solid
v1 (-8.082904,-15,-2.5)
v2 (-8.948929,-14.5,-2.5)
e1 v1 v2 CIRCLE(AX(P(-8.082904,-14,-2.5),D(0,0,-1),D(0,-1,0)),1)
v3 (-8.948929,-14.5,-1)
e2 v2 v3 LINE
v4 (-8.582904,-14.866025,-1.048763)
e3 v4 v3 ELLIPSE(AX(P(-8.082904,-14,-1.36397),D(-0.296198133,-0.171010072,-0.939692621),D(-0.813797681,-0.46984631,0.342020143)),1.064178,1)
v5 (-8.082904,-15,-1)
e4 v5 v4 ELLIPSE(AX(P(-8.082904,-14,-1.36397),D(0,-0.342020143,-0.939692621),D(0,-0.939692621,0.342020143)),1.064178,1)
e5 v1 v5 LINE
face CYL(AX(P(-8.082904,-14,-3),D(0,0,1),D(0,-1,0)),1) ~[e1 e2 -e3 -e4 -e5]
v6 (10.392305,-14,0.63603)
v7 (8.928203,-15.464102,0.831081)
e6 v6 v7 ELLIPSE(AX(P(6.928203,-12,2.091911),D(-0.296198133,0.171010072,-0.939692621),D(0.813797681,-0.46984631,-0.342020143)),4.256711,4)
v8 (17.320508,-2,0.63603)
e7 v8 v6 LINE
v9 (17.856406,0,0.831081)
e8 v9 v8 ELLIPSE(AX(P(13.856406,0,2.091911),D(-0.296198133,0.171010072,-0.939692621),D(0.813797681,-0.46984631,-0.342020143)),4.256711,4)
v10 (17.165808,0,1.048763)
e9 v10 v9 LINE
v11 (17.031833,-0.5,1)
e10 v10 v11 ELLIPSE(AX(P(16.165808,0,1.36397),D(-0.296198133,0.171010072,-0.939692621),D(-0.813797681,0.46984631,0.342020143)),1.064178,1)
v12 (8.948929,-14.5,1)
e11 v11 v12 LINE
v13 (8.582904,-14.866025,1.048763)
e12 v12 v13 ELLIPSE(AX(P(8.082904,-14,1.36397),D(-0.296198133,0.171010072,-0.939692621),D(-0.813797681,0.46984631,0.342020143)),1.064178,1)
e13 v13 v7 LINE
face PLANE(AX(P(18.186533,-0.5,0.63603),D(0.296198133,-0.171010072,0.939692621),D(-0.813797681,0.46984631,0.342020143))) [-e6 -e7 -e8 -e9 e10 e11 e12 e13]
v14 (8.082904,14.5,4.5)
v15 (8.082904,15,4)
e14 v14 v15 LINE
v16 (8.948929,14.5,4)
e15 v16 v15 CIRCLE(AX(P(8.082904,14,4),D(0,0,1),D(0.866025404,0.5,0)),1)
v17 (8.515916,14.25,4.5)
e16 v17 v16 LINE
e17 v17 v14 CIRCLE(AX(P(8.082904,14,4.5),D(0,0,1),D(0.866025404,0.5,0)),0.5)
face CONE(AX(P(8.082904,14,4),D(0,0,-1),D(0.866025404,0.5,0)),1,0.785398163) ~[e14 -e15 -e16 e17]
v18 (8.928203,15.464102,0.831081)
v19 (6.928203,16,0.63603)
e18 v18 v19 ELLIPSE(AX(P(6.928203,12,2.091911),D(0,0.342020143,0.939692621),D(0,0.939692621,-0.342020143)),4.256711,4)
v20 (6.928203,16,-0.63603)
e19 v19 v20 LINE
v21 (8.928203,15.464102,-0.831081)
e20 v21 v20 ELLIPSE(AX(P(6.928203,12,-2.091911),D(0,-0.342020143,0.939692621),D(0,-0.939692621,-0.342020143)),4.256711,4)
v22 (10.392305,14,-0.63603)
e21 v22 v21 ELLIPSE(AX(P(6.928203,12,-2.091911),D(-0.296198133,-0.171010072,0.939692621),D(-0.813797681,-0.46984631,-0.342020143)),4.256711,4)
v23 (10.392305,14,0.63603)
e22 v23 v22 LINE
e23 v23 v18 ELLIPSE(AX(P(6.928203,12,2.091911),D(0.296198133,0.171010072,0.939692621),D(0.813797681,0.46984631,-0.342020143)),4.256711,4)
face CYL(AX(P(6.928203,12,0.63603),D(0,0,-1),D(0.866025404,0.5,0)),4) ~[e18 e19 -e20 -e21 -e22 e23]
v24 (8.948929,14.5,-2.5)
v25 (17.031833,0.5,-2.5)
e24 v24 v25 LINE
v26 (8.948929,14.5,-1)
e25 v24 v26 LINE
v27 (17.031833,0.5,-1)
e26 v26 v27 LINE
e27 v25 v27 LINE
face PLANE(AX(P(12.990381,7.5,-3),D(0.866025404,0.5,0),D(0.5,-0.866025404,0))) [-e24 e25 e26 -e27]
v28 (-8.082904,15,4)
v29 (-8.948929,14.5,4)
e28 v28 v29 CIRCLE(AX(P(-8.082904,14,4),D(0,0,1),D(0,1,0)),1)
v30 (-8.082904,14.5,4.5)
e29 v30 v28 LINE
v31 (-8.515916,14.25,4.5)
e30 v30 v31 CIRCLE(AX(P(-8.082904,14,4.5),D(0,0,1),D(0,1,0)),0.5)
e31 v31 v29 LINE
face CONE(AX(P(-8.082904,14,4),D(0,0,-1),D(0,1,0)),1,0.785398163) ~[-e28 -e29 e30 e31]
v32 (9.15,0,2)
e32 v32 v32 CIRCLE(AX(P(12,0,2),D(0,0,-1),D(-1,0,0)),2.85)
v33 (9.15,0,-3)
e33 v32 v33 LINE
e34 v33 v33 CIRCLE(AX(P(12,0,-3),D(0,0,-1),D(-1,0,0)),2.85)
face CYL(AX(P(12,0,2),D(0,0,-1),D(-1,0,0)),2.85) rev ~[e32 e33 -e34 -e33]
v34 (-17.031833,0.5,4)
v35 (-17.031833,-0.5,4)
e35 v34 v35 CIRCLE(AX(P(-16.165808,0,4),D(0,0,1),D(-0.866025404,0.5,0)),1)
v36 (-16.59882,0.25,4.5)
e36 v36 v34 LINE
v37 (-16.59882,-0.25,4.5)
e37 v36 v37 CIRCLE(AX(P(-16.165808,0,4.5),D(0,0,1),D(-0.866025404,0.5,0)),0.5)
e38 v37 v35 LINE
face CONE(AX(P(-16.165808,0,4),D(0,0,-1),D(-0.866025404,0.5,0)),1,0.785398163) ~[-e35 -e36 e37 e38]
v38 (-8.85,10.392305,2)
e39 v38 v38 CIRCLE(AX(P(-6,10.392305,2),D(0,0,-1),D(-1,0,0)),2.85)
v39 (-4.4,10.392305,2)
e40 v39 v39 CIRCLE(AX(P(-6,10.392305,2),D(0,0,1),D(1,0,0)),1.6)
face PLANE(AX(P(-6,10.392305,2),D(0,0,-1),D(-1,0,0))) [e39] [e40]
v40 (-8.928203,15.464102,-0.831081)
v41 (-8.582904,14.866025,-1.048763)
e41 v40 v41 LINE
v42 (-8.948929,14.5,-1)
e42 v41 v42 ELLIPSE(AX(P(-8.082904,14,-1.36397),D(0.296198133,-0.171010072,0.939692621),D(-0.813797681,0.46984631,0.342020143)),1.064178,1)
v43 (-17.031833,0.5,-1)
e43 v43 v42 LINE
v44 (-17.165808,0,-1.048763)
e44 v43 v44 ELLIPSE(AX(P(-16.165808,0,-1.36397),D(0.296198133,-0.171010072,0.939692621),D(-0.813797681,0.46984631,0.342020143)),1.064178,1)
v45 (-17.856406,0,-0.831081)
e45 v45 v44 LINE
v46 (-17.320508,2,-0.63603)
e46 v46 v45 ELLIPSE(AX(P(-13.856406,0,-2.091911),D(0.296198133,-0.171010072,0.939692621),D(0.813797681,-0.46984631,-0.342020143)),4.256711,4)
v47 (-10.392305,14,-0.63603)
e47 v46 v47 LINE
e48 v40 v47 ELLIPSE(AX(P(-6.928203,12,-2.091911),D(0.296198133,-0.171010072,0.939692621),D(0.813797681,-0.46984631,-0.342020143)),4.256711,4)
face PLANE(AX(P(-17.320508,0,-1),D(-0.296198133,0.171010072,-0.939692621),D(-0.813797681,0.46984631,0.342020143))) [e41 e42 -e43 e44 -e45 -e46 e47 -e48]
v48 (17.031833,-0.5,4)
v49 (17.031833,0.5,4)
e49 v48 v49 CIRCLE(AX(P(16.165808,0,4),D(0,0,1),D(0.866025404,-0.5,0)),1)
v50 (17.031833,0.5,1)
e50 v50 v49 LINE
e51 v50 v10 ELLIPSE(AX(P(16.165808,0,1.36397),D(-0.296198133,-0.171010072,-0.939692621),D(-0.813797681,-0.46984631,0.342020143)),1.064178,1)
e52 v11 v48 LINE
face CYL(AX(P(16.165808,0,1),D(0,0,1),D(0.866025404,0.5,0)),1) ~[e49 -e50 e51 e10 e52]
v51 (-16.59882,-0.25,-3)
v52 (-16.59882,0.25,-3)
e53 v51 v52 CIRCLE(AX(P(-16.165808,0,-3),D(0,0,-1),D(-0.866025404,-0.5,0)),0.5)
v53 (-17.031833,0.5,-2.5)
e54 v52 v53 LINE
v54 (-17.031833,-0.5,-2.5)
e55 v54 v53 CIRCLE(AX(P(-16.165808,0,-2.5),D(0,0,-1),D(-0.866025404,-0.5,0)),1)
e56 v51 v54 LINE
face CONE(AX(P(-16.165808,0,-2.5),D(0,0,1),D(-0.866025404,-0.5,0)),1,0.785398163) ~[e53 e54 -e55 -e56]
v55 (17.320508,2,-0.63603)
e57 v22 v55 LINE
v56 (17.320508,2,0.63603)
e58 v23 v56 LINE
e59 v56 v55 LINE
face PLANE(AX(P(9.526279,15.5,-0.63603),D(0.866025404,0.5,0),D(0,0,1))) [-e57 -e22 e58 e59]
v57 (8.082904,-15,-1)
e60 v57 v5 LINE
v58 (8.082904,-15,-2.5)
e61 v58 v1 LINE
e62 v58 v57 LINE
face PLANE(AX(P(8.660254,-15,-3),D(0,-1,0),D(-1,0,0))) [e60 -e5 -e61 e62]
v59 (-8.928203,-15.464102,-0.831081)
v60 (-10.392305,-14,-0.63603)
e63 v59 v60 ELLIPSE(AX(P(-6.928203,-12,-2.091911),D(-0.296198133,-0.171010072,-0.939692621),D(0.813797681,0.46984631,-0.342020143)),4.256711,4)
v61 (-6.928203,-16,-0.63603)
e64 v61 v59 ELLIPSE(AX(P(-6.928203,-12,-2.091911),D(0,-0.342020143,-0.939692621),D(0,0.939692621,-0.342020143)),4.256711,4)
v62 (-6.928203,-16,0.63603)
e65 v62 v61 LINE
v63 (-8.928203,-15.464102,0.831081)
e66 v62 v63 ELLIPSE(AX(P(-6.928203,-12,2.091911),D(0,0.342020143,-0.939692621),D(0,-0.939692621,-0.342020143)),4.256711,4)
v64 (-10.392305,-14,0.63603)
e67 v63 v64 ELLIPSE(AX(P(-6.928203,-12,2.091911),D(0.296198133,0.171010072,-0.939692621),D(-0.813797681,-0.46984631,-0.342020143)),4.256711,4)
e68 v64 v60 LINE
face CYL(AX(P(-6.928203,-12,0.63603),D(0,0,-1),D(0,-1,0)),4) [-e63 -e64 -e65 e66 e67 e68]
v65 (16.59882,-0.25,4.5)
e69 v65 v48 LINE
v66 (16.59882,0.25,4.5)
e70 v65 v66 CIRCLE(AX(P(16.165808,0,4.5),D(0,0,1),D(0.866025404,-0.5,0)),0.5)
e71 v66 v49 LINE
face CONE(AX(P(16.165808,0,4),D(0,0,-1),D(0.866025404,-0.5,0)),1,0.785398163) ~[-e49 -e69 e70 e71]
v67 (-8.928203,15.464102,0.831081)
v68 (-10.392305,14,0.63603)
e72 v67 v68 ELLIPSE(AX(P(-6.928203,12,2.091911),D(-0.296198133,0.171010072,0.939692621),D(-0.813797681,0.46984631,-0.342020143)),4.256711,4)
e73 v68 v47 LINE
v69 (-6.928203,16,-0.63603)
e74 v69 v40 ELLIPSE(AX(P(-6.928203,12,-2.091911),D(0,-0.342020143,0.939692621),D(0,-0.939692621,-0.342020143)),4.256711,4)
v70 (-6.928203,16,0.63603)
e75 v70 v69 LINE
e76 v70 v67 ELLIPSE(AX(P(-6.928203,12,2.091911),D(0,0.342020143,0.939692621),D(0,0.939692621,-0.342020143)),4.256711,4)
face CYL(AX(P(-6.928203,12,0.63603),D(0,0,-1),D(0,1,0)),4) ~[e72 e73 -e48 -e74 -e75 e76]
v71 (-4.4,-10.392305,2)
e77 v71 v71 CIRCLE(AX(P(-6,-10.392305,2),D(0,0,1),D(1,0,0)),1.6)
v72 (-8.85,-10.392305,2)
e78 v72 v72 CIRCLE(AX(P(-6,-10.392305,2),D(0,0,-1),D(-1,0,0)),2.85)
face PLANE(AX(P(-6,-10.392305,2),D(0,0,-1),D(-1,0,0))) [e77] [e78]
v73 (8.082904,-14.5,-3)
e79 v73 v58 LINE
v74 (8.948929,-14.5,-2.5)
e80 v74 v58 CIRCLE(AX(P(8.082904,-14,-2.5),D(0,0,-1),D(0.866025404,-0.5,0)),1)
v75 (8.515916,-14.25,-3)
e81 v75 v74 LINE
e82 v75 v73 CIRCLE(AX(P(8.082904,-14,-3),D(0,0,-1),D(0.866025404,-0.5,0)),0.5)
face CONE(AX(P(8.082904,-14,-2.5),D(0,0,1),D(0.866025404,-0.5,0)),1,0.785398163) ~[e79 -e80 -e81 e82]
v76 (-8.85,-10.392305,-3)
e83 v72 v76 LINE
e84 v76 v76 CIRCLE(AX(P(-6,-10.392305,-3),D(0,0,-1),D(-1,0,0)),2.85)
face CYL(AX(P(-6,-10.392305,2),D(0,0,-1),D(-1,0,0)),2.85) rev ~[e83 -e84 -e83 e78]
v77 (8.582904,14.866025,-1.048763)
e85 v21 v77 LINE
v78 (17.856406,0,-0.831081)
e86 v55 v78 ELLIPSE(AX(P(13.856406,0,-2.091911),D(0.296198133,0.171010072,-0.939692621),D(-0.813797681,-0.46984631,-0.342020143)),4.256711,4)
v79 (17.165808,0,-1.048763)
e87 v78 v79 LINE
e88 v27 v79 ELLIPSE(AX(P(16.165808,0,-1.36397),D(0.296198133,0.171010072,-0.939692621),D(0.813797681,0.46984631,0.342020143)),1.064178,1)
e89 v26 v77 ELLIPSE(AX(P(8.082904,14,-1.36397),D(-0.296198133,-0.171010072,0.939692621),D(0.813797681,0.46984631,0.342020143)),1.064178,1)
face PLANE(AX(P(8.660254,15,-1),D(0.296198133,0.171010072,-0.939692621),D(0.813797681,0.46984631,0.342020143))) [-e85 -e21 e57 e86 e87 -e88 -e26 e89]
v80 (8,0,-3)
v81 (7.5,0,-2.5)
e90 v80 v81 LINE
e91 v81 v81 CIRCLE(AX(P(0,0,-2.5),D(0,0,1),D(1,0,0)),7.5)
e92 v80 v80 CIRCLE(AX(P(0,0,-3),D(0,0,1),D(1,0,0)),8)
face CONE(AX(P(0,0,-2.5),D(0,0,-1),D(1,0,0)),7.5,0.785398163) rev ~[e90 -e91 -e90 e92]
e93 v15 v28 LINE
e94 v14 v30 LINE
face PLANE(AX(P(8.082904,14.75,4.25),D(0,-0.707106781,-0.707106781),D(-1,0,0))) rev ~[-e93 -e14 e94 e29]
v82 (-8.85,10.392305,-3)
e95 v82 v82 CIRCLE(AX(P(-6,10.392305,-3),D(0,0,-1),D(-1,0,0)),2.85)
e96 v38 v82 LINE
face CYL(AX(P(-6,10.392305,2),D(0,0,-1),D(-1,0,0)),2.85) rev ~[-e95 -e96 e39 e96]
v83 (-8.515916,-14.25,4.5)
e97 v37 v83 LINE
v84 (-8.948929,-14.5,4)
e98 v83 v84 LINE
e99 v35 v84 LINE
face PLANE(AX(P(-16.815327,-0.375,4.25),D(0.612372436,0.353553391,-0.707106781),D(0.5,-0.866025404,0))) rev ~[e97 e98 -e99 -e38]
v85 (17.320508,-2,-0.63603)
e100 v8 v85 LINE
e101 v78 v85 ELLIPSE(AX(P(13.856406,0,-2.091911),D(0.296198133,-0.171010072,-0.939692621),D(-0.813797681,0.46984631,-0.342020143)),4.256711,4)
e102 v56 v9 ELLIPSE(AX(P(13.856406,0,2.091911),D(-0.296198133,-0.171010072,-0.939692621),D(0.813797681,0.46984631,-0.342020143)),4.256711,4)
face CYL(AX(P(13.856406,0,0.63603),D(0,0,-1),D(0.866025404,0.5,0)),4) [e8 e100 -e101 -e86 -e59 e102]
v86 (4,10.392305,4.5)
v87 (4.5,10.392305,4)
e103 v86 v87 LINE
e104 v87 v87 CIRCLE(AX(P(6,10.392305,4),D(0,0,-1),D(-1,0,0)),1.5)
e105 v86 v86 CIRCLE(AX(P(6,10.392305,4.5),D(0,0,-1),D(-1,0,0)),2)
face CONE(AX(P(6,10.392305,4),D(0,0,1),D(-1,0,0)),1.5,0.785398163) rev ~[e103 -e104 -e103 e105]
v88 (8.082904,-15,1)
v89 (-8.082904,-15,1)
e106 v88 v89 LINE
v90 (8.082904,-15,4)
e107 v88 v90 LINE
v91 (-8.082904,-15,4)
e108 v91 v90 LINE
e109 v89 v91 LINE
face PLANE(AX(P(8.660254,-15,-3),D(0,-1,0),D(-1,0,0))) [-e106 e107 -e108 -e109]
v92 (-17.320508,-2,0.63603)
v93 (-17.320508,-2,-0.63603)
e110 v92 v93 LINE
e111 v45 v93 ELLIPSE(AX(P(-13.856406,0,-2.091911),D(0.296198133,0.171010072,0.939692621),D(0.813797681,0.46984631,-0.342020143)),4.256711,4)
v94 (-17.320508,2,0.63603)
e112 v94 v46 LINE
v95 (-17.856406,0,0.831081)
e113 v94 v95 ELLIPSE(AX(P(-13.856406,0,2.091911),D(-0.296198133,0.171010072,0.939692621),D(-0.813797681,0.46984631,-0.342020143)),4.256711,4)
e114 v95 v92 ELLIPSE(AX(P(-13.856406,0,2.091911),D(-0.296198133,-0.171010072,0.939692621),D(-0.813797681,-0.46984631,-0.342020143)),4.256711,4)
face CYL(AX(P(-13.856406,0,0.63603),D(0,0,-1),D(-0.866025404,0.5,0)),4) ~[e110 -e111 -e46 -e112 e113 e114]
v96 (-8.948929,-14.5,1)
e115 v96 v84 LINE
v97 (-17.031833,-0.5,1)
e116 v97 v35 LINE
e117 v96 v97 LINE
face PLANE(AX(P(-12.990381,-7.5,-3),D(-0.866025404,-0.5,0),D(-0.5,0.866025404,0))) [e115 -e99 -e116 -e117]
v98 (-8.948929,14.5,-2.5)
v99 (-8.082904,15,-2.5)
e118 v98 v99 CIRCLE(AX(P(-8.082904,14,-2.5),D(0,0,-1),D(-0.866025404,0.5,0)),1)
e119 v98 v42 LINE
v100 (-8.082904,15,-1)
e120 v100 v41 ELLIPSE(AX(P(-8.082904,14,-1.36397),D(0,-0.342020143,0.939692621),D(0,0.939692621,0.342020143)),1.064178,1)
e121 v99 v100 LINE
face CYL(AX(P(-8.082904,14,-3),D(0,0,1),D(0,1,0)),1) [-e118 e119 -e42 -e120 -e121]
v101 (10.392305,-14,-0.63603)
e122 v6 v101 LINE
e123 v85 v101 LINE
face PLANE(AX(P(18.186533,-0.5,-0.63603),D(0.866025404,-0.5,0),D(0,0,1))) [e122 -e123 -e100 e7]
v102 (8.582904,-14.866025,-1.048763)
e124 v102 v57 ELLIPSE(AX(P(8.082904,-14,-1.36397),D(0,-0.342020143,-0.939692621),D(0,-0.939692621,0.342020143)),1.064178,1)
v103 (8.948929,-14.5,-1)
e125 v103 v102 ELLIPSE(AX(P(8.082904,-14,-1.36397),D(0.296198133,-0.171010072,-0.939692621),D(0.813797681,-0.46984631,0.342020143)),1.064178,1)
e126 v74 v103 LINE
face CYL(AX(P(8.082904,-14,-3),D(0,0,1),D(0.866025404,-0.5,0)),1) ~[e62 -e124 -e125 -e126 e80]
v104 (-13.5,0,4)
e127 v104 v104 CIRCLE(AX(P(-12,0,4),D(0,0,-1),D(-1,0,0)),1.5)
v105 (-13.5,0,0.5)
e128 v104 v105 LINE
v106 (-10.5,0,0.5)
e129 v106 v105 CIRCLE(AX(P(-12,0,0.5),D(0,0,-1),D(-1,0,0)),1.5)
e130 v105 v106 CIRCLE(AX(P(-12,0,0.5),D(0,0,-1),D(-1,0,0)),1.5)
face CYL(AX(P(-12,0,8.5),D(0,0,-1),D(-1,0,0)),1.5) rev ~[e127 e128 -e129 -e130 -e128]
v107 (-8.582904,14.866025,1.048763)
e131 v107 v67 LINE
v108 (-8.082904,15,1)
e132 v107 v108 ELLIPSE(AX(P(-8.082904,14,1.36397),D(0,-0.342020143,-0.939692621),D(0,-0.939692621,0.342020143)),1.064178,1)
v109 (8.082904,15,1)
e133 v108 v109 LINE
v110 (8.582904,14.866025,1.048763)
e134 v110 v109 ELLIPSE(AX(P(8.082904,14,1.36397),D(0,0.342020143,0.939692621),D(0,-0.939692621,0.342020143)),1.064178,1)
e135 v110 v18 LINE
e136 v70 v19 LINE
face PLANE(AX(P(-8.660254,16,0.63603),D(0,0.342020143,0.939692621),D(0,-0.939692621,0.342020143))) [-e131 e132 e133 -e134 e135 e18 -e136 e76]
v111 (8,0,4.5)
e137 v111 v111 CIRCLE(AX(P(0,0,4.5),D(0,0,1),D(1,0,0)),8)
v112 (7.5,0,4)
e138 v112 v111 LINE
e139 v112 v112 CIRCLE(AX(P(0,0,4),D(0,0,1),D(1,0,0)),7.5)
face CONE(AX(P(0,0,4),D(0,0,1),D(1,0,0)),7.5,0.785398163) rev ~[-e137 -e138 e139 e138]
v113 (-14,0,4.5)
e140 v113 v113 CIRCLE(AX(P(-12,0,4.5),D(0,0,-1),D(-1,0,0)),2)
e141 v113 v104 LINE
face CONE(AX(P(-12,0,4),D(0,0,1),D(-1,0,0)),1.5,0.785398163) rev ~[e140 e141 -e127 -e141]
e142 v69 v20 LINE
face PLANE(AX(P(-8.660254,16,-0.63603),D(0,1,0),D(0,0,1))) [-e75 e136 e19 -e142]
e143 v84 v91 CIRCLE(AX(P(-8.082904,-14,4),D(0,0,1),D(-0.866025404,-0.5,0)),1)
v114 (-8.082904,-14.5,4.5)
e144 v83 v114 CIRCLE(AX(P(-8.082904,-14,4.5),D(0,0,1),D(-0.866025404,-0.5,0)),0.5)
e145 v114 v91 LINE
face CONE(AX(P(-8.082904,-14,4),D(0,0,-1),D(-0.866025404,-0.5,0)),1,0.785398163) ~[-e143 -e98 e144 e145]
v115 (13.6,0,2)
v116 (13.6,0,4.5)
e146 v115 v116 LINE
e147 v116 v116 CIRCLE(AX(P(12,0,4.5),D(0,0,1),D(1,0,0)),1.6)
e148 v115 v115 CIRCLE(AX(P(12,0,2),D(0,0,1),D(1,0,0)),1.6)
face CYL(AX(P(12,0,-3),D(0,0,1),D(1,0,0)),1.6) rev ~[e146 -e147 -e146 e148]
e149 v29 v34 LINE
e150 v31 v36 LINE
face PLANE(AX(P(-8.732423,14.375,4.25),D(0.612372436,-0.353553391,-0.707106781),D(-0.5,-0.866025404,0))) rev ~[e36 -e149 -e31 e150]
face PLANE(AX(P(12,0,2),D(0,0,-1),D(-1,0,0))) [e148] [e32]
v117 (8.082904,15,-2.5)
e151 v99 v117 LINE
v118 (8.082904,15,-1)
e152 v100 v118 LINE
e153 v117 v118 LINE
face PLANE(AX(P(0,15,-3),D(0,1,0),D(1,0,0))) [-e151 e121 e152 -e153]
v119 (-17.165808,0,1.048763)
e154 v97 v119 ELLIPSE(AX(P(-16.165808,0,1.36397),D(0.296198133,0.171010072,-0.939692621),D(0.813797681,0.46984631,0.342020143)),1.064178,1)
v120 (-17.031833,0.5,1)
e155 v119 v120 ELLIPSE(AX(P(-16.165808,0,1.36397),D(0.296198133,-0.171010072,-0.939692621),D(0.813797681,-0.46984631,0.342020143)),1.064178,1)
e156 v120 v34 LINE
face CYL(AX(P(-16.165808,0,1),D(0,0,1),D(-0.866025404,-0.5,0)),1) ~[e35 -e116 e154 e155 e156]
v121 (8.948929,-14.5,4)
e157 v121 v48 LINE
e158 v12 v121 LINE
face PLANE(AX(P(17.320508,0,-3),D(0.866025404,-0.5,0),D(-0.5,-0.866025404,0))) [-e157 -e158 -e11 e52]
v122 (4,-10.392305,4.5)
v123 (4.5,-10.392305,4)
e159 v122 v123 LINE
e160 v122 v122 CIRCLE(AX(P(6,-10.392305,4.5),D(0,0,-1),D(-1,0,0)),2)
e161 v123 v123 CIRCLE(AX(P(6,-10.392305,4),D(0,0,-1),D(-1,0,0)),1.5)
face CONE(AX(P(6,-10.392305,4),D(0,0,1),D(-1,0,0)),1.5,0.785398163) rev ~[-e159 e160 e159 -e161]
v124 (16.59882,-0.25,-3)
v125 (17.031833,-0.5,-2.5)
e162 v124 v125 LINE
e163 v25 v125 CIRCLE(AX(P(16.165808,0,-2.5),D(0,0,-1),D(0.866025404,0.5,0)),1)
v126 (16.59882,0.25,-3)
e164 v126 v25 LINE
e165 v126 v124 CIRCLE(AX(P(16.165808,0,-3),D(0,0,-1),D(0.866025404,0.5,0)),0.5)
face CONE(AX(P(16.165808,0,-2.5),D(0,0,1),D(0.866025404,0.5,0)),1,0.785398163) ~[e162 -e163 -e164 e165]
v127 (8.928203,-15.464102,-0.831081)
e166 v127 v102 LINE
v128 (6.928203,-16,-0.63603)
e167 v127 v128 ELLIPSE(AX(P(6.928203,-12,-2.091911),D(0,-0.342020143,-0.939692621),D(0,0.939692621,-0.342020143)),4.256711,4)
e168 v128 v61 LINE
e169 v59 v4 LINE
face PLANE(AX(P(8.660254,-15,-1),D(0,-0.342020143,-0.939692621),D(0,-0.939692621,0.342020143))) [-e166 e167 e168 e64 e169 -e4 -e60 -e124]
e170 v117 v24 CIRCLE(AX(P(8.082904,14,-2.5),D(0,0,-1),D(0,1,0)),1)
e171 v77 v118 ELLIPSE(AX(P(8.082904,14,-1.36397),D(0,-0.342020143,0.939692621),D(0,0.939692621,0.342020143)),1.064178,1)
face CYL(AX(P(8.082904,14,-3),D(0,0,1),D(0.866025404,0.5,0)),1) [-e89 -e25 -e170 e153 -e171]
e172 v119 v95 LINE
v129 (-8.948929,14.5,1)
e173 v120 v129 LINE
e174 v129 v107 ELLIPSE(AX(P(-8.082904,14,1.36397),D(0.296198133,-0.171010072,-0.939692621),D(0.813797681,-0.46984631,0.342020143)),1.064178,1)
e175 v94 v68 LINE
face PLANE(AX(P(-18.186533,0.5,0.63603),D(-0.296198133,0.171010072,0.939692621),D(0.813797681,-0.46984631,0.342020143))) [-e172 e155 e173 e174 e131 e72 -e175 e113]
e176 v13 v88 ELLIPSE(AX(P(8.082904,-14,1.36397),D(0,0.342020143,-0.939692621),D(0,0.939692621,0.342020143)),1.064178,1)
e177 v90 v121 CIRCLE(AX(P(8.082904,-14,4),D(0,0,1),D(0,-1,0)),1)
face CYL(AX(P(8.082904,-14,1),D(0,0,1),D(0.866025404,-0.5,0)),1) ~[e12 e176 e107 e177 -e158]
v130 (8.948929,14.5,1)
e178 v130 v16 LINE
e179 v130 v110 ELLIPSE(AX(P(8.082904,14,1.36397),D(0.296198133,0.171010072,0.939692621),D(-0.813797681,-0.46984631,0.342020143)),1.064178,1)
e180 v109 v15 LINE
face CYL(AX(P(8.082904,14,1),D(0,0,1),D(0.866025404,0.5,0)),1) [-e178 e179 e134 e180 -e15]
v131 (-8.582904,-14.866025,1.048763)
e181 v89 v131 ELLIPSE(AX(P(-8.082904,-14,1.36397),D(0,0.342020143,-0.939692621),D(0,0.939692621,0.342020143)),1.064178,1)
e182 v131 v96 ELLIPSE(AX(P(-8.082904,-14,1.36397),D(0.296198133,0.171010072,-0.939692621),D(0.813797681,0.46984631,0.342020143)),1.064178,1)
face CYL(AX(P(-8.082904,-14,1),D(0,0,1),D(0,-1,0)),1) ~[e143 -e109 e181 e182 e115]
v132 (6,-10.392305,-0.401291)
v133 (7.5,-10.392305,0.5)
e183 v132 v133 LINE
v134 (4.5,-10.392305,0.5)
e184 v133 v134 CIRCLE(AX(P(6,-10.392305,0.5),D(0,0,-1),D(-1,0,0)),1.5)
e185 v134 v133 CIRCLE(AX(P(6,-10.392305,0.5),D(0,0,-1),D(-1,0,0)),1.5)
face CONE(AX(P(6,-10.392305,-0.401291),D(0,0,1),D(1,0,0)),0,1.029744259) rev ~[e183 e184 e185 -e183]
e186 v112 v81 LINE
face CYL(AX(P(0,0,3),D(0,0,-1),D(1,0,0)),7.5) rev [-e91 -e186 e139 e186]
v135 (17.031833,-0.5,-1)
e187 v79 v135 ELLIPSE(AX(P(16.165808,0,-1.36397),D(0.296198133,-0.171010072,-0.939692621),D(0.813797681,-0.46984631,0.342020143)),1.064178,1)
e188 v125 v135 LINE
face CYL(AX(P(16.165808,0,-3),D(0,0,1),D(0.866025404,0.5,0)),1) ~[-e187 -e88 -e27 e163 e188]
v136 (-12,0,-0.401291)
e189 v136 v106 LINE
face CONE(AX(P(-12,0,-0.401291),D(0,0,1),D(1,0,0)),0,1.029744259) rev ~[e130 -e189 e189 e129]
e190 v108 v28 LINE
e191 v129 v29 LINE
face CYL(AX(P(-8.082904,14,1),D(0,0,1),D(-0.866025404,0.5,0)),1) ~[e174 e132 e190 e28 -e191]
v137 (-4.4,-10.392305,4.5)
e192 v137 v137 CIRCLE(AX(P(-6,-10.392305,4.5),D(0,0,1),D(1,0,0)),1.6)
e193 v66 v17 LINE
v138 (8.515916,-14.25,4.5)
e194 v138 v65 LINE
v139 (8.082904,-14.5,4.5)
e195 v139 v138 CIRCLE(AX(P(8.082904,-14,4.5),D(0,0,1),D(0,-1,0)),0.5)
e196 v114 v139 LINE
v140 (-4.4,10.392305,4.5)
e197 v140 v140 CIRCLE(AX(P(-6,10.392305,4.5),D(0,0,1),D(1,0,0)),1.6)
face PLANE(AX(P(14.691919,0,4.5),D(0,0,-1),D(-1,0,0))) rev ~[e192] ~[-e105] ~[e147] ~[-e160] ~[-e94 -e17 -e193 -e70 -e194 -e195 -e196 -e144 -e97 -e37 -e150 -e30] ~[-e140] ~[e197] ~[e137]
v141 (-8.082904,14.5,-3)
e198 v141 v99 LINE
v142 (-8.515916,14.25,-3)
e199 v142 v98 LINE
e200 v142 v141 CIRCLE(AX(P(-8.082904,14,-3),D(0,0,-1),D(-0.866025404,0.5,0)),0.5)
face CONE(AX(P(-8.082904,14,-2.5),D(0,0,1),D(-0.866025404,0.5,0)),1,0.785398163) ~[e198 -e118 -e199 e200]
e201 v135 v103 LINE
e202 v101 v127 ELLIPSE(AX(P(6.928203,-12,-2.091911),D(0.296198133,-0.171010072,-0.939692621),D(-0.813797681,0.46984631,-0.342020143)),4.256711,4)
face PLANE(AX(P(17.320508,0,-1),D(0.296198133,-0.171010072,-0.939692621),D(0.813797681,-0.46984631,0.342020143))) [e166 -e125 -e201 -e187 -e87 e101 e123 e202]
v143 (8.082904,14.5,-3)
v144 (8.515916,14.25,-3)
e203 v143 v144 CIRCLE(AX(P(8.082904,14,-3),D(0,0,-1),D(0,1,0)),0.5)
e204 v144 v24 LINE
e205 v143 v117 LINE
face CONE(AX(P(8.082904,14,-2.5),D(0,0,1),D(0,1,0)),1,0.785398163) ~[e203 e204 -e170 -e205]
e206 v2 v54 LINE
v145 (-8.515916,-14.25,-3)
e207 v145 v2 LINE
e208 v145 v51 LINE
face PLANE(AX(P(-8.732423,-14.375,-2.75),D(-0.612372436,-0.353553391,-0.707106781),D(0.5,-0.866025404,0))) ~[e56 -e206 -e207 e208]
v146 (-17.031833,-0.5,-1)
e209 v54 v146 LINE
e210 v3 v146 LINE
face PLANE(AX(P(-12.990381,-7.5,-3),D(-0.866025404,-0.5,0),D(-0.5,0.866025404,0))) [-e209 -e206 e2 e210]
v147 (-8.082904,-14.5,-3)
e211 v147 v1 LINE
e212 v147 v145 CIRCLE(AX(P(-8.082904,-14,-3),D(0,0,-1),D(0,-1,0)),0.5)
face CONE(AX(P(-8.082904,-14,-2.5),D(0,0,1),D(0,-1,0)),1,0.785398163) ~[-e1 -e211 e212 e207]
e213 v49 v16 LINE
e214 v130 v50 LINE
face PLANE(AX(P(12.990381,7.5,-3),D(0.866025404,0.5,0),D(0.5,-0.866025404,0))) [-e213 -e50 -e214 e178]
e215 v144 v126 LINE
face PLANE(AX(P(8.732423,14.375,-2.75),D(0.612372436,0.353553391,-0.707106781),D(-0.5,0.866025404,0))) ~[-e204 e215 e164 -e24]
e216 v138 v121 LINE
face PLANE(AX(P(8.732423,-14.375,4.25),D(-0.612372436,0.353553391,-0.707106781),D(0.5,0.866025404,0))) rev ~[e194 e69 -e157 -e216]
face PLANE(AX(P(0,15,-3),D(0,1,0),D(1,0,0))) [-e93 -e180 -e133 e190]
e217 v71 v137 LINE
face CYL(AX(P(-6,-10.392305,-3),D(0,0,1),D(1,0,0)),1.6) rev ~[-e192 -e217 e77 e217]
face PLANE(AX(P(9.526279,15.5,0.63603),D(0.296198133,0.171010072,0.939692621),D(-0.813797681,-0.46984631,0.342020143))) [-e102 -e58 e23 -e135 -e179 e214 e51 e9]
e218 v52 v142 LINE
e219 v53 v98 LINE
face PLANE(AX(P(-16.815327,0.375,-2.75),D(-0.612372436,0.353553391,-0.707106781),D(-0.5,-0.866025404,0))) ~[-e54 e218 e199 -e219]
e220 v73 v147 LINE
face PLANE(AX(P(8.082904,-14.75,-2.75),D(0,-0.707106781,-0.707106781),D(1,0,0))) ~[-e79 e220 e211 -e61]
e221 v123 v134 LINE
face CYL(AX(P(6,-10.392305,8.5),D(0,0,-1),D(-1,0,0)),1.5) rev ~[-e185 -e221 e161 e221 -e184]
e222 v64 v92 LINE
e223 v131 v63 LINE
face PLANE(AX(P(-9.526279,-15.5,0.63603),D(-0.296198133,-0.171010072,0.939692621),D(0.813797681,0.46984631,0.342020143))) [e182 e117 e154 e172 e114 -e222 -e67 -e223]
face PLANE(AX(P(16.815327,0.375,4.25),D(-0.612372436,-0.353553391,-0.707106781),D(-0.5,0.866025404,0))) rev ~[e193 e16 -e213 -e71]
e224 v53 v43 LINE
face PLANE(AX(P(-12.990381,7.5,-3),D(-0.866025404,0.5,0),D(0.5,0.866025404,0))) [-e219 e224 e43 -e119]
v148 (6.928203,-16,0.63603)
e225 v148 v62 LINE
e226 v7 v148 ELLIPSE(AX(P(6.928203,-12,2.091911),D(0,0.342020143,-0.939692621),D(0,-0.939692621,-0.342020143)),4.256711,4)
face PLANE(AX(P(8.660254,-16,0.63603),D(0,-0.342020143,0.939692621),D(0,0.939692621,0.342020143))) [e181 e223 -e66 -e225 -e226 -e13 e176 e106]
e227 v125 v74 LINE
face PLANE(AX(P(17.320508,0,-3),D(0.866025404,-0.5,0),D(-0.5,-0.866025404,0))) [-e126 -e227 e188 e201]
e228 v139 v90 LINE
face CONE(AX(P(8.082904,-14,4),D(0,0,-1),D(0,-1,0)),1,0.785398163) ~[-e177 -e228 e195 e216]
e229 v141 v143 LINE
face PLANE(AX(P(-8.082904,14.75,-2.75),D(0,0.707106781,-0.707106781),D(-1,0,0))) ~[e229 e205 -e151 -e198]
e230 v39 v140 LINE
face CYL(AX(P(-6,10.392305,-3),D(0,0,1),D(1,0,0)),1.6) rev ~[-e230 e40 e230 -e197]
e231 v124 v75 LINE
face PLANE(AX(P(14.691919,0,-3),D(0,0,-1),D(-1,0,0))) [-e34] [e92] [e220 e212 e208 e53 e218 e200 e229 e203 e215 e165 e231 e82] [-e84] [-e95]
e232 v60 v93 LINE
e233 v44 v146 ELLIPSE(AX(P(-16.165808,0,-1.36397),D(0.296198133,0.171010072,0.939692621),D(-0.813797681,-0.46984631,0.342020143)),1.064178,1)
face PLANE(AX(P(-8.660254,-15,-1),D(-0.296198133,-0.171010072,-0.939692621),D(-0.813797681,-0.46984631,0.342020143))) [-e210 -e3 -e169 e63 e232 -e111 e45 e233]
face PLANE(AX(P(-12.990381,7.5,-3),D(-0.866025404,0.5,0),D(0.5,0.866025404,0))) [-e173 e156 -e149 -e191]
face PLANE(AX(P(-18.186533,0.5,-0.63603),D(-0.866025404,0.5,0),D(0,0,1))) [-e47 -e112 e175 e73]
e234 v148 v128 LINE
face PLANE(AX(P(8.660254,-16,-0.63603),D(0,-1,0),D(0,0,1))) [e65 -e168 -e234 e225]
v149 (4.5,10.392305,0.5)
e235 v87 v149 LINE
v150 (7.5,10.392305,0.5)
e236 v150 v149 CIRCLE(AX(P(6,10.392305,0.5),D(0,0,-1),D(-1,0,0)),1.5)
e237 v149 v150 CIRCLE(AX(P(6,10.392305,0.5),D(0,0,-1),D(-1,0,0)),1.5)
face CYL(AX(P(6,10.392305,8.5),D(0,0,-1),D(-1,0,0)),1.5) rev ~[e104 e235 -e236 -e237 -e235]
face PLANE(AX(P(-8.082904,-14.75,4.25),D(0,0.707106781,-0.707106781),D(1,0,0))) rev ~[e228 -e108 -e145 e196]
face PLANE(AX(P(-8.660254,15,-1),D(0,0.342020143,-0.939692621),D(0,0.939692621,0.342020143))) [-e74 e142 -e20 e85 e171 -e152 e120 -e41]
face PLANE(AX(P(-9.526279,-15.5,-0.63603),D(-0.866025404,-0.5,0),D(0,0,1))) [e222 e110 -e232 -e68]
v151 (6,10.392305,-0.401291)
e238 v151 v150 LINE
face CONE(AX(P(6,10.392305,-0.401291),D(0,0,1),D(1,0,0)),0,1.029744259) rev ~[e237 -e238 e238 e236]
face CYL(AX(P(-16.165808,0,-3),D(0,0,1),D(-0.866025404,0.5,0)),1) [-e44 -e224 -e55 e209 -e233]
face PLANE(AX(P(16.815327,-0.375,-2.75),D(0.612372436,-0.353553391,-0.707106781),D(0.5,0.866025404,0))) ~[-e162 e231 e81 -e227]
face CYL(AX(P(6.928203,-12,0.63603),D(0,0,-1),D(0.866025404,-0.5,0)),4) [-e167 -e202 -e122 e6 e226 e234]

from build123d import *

# Parameters (mm, degrees)
SKETCH_1_W                   = 32
SKETCH_1_H                   = 32
SKETCH_1_R                   = 7.5
EXTRUDE_1_DEPTH              = 3
SKETCH_23_W                  = 32
SKETCH_23_H                  = 32
SKETCH_23_R                  = 7.5
EXTRUDE_4_DEPTH              = 1.5
HOLE_WIZARD_M3_1_D           = 3.2
HOLE_WIZARD_M3_1_CBORE_D     = 5.7
HOLE_WIZARD_M3_1_CBORE_DEPTH = 5
F_3_0MM_1_D                  = 3
F_3_0MM_1_DEPTH              = 4
F_3_0MM_1_TIP                = 0.9012909285413404
SKETCH_26_OUTSIDE_W          = 43.174
SKETCH_26_OUTSIDE_H          = 43.174
SKETCH_26_OUTSIDE_R          = 15
CUT_EXTRUDE_1_DEPTH          = 24.837994882120434
EXTRUDE_5_DEPTH              = 7.5
FILLET_1_R                   = 1
CHAMFER_1_SIZE               = 0.5
FILLET_2_R                   = 4


with BuildPart() as part:
    # 草图1 → 凸台-拉伸1 (new, symmetric)
    with BuildSketch(Plane.XY):
        Rectangle(SKETCH_1_W, SKETCH_1_H)
        Circle(SKETCH_1_R, mode=Mode.SUBTRACT)
    extrude(amount=EXTRUDE_1_DEPTH, both=True)

    # 草图23 → 凸台-拉伸4 (add)
    with BuildSketch(Plane.XY.offset(3)):
        Rectangle(SKETCH_23_W, SKETCH_23_H)
        Circle(SKETCH_23_R, mode=Mode.SUBTRACT)
    extrude(amount=EXTRUDE_4_DEPTH)

    # M3 六角圆柱头螺钉的柱形沉头孔1 (through all)
    with Locations(Plane(origin=(0, 0, -3), x_dir=(-1, 0, 0), z_dir=(0, 0, -1))):
        with Locations((-12, 0), (6, 10.392304845), (6, -10.392304845)):
            CounterBoreHole(HOLE_WIZARD_M3_1_D / 2, HOLE_WIZARD_M3_1_CBORE_D / 2, HOLE_WIZARD_M3_1_CBORE_DEPTH)

    # Ø3.0mm 暗销孔1
    with Locations(Plane.XY.offset(4.500000000000001)):
        with Locations((-12, 0), (6, 10.392304845), (6, -10.392304845)):
            Hole(F_3_0MM_1_D / 2, depth=F_3_0MM_1_DEPTH)
            with Locations((0, 0, -(F_3_0MM_1_DEPTH + F_3_0MM_1_TIP / 2))):  # 118° drill point
                Cone(0, F_3_0MM_1_D / 2, F_3_0MM_1_TIP, mode=Mode.SUBTRACT)

    # 草图26 outside → 切除-拉伸1 (cut, through all)
    with BuildSketch(Plane(origin=(0, 0, -3), x_dir=(-1, 0, 0), z_dir=(0, 0, -1))):
        Rectangle(SKETCH_26_OUTSIDE_W, SKETCH_26_OUTSIDE_H)
        Circle(SKETCH_26_OUTSIDE_R, mode=Mode.SUBTRACT)
    extrude(amount=-CUT_EXTRUDE_1_DEPTH, mode=Mode.SUBTRACT)

    # 草图42 → 凸台-拉伸5 (add)
    with BuildSketch(Plane(origin=(0, 0, -3), x_dir=(-1, 0, 0), z_dir=(0, 0, -1))):
        with BuildLine():
            Line((-12.990381096299085, 7.499999931527694), (-17.32050807568877, 0))
            Line((-17.32050807568877, 0), (-12.99038117476846, -7.4999997956147455))
            ThreePointArc((-12.990381174768459, -7.499999795614747), (-15, 7.84693795e-08), (-12.990381096299085, 7.499999931527694))
        make_face()
        with BuildLine():
            ThreePointArc((-3.268098068e-08, -15), (-7.500000116343906, -12.990380989595394), (-12.990381174768459, -7.499999795614747))
            Line((-12.99038117476846, -7.4999997956147455), (-8.660254037844386, -15))
            Line((-8.660254037844386, -15), (-3.268098148e-08, -15))
        make_face()
        with BuildLine():
            Line((-8.660254037844389, 15), (-12.990381096299085, 7.499999931527694))
            ThreePointArc((-12.990381096299085, 7.499999931527694), (-7.500000044953584, 12.990381030812616), (-2.475085045e-08, 15))
            Line((-2.475085026e-08, 15), (-8.660254037844389, 15))
        make_face()
        with BuildLine():
            ThreePointArc((12.990381096299007, -7.499999931527828), (7.500000020084812, -12.990381045170608), (-3.268098068e-08, -15))
            Line((-3.268098148e-08, -15), (8.660254037844389, -15.000000000000002))
            Line((8.660254037844389, -15.000000000000002), (12.990381096299007, -7.499999931527833))
        make_face()
        with BuildLine():
            Line((8.660254037844386, 15.000000000000002), (-2.475085026e-08, 15))
            ThreePointArc((-2.475084712e-08, 15), (7.499999977454134, 12.990381069783442), (12.990381043108282, 7.500000023656865))
            Line((12.990381043108282, 7.500000023656862), (8.660254037844386, 15.000000000000002))
        make_face()
        with BuildLine():
            ThreePointArc((12.990381043108284, 7.500000023656865), (15, 5.319072383e-08), (12.990381096299007, -7.499999931527828))
            Line((12.990381096299007, -7.499999931527833), (17.320508075688775, -5.33e-15))
            Line((17.320508075688775, -5.2e-15), (12.990381043108282, 7.500000023656862))
        make_face()
    extrude(amount=-EXTRUDE_5_DEPTH)

    # 扫描1: sweep along a path in 草图44
    with BuildLine(Plane(origin=(0, 0, -1), x_dir=(-1, 0, 0), z_dir=(0, 0, -1))) as sweep_1_path:
        Line((-8.660254037844389, 15.000000000000002), (-17.32050807568877, -1.73e-15))
        Line((-17.32050807568877, -1.73e-15), (-8.660254037844387, -15))
        Line((-8.660254037844387, -15), (8.660254037844389, -15.000000000000004))
        Line((8.660254037844389, -15.000000000000004), (17.320508075688775, -6.07e-15))
        Line((17.320508075688775, -6.07e-15), (8.660254037844387, 15))
        Line((8.660254037844387, 15), (-8.660254037844389, 15.000000000000002))
    # 草图43 → 扫描1 (sweep)
    with BuildSketch(Plane(origin=(0, 0, 0), x_dir=(0, 0, -1), z_dir=(1, 0, 0))):
        Polygon((-0.9999999999999974, 15.000000000000002), (1, 15.000000000000002), (0.6360297657338008, 16), (-0.6360297657337987, 16), align=None)
    sweep(path=sweep_1_path.line, transition=Transition.RIGHT)

    # 圆角1
    fillet_1_edges = [part.edges().sort_by_distance(p)[0] for p in [
        (-8.660254037844386, 15.000000000000002, 2.7499999999999982),
        (-17.320508075688775, -5.27e-15, 2.7499999999999982),
        (-8.660254037844389, -15.000000000000002, 2.7499999999999982),
        (8.660254037844386, -15, 2.7499999999999982),
        (17.32050807568877, 0, 2.7499999999999982),
        (17.32050807568877, 0, -2),
        (8.660254037844386, -15, -2),
        (-8.660254037844389, -15.000000000000002, -2),
        (-17.320508075688775, -5.27e-15, -2),
        (-8.660254037844386, 15.000000000000002, -2),
        (8.660254037844389, 15, -2),
        (8.660254037844389, 15, 2.7499999999999982),
    ]]
    fillet(fillet_1_edges, radius=FILLET_1_R)

    # 倒角1
    chamfer_1_edges = [part.edges().sort_by_distance(p)[0] for p in [
        (-7.5, 4.25e-15, -3),
        (3.55e-15, 15, 4.5),
        (12.99038105676658, 7.5, 4.5),
        (12.990381056766578, -7.5, 4.5),
        (-12.99038105676658, 7.5, 4.5),
        (-12.990381056766584, -7.500000000000003, 4.5),
        (-1.78e-15, -15, 4.5),
        (-17.165807537309526, -4.64e-15, 4.5),
        (-8.582903768654763, -14.866025403784437, 4.5),
        (8.58290376865476, -14.86602540378444, 4.5),
        (-8.582903768654756, 14.866025403784443, 4.5),
        (17.16580753730952, 1.09e-15, 4.5),
        (-7.5, 4.25e-15, 4.5),
        (8.582903768654763, 14.866025403784437, 4.5),
        (3.55e-15, 15, -3),
        (12.99038105676658, 7.5, -3),
        (12.990381056766578, -7.5, -3),
        (-1.78e-15, -15, -3),
        (-12.990381056766584, -7.500000000000003, -3),
        (-12.99038105676658, 7.5, -3),
        (-17.165807537309526, -4.64e-15, -3),
        (-8.582903768654763, -14.86602540378444, -3),
        (8.58290376865476, -14.866025403784437, -3),
        (-8.582903768654756, 14.866025403784443, -3),
        (17.16580753730952, 1.11e-15, -3),
        (8.582903768654763, 14.866025403784437, -3),
        (7.5, -10.392304845, 4.5),
        (7.5, 10.392304845, 4.5),
        (-10.5, 1.8e-16, 4.5),
    ]]
    chamfer(chamfer_1_edges, length=CHAMFER_1_SIZE)

    # 圆角2
    fillet_2_edges = [part.edges().sort_by_distance(p)[0] for p in [
        (9.237604307034012, -16, -1.11e-15),
        (18.475208614068023, -4.33e-15, -1.11e-15),
        (-9.23760430703402, -16, -1.11e-15),
        (9.23760430703402, 16, -1.11e-15),
        (-18.475208614068023, 3.03e-15, -1.11e-15),
        (-9.23760430703401, 16, -1.11e-15),
    ]]
    fillet(fillet_2_edges, radius=FILLET_2_R)


solid = part.part
